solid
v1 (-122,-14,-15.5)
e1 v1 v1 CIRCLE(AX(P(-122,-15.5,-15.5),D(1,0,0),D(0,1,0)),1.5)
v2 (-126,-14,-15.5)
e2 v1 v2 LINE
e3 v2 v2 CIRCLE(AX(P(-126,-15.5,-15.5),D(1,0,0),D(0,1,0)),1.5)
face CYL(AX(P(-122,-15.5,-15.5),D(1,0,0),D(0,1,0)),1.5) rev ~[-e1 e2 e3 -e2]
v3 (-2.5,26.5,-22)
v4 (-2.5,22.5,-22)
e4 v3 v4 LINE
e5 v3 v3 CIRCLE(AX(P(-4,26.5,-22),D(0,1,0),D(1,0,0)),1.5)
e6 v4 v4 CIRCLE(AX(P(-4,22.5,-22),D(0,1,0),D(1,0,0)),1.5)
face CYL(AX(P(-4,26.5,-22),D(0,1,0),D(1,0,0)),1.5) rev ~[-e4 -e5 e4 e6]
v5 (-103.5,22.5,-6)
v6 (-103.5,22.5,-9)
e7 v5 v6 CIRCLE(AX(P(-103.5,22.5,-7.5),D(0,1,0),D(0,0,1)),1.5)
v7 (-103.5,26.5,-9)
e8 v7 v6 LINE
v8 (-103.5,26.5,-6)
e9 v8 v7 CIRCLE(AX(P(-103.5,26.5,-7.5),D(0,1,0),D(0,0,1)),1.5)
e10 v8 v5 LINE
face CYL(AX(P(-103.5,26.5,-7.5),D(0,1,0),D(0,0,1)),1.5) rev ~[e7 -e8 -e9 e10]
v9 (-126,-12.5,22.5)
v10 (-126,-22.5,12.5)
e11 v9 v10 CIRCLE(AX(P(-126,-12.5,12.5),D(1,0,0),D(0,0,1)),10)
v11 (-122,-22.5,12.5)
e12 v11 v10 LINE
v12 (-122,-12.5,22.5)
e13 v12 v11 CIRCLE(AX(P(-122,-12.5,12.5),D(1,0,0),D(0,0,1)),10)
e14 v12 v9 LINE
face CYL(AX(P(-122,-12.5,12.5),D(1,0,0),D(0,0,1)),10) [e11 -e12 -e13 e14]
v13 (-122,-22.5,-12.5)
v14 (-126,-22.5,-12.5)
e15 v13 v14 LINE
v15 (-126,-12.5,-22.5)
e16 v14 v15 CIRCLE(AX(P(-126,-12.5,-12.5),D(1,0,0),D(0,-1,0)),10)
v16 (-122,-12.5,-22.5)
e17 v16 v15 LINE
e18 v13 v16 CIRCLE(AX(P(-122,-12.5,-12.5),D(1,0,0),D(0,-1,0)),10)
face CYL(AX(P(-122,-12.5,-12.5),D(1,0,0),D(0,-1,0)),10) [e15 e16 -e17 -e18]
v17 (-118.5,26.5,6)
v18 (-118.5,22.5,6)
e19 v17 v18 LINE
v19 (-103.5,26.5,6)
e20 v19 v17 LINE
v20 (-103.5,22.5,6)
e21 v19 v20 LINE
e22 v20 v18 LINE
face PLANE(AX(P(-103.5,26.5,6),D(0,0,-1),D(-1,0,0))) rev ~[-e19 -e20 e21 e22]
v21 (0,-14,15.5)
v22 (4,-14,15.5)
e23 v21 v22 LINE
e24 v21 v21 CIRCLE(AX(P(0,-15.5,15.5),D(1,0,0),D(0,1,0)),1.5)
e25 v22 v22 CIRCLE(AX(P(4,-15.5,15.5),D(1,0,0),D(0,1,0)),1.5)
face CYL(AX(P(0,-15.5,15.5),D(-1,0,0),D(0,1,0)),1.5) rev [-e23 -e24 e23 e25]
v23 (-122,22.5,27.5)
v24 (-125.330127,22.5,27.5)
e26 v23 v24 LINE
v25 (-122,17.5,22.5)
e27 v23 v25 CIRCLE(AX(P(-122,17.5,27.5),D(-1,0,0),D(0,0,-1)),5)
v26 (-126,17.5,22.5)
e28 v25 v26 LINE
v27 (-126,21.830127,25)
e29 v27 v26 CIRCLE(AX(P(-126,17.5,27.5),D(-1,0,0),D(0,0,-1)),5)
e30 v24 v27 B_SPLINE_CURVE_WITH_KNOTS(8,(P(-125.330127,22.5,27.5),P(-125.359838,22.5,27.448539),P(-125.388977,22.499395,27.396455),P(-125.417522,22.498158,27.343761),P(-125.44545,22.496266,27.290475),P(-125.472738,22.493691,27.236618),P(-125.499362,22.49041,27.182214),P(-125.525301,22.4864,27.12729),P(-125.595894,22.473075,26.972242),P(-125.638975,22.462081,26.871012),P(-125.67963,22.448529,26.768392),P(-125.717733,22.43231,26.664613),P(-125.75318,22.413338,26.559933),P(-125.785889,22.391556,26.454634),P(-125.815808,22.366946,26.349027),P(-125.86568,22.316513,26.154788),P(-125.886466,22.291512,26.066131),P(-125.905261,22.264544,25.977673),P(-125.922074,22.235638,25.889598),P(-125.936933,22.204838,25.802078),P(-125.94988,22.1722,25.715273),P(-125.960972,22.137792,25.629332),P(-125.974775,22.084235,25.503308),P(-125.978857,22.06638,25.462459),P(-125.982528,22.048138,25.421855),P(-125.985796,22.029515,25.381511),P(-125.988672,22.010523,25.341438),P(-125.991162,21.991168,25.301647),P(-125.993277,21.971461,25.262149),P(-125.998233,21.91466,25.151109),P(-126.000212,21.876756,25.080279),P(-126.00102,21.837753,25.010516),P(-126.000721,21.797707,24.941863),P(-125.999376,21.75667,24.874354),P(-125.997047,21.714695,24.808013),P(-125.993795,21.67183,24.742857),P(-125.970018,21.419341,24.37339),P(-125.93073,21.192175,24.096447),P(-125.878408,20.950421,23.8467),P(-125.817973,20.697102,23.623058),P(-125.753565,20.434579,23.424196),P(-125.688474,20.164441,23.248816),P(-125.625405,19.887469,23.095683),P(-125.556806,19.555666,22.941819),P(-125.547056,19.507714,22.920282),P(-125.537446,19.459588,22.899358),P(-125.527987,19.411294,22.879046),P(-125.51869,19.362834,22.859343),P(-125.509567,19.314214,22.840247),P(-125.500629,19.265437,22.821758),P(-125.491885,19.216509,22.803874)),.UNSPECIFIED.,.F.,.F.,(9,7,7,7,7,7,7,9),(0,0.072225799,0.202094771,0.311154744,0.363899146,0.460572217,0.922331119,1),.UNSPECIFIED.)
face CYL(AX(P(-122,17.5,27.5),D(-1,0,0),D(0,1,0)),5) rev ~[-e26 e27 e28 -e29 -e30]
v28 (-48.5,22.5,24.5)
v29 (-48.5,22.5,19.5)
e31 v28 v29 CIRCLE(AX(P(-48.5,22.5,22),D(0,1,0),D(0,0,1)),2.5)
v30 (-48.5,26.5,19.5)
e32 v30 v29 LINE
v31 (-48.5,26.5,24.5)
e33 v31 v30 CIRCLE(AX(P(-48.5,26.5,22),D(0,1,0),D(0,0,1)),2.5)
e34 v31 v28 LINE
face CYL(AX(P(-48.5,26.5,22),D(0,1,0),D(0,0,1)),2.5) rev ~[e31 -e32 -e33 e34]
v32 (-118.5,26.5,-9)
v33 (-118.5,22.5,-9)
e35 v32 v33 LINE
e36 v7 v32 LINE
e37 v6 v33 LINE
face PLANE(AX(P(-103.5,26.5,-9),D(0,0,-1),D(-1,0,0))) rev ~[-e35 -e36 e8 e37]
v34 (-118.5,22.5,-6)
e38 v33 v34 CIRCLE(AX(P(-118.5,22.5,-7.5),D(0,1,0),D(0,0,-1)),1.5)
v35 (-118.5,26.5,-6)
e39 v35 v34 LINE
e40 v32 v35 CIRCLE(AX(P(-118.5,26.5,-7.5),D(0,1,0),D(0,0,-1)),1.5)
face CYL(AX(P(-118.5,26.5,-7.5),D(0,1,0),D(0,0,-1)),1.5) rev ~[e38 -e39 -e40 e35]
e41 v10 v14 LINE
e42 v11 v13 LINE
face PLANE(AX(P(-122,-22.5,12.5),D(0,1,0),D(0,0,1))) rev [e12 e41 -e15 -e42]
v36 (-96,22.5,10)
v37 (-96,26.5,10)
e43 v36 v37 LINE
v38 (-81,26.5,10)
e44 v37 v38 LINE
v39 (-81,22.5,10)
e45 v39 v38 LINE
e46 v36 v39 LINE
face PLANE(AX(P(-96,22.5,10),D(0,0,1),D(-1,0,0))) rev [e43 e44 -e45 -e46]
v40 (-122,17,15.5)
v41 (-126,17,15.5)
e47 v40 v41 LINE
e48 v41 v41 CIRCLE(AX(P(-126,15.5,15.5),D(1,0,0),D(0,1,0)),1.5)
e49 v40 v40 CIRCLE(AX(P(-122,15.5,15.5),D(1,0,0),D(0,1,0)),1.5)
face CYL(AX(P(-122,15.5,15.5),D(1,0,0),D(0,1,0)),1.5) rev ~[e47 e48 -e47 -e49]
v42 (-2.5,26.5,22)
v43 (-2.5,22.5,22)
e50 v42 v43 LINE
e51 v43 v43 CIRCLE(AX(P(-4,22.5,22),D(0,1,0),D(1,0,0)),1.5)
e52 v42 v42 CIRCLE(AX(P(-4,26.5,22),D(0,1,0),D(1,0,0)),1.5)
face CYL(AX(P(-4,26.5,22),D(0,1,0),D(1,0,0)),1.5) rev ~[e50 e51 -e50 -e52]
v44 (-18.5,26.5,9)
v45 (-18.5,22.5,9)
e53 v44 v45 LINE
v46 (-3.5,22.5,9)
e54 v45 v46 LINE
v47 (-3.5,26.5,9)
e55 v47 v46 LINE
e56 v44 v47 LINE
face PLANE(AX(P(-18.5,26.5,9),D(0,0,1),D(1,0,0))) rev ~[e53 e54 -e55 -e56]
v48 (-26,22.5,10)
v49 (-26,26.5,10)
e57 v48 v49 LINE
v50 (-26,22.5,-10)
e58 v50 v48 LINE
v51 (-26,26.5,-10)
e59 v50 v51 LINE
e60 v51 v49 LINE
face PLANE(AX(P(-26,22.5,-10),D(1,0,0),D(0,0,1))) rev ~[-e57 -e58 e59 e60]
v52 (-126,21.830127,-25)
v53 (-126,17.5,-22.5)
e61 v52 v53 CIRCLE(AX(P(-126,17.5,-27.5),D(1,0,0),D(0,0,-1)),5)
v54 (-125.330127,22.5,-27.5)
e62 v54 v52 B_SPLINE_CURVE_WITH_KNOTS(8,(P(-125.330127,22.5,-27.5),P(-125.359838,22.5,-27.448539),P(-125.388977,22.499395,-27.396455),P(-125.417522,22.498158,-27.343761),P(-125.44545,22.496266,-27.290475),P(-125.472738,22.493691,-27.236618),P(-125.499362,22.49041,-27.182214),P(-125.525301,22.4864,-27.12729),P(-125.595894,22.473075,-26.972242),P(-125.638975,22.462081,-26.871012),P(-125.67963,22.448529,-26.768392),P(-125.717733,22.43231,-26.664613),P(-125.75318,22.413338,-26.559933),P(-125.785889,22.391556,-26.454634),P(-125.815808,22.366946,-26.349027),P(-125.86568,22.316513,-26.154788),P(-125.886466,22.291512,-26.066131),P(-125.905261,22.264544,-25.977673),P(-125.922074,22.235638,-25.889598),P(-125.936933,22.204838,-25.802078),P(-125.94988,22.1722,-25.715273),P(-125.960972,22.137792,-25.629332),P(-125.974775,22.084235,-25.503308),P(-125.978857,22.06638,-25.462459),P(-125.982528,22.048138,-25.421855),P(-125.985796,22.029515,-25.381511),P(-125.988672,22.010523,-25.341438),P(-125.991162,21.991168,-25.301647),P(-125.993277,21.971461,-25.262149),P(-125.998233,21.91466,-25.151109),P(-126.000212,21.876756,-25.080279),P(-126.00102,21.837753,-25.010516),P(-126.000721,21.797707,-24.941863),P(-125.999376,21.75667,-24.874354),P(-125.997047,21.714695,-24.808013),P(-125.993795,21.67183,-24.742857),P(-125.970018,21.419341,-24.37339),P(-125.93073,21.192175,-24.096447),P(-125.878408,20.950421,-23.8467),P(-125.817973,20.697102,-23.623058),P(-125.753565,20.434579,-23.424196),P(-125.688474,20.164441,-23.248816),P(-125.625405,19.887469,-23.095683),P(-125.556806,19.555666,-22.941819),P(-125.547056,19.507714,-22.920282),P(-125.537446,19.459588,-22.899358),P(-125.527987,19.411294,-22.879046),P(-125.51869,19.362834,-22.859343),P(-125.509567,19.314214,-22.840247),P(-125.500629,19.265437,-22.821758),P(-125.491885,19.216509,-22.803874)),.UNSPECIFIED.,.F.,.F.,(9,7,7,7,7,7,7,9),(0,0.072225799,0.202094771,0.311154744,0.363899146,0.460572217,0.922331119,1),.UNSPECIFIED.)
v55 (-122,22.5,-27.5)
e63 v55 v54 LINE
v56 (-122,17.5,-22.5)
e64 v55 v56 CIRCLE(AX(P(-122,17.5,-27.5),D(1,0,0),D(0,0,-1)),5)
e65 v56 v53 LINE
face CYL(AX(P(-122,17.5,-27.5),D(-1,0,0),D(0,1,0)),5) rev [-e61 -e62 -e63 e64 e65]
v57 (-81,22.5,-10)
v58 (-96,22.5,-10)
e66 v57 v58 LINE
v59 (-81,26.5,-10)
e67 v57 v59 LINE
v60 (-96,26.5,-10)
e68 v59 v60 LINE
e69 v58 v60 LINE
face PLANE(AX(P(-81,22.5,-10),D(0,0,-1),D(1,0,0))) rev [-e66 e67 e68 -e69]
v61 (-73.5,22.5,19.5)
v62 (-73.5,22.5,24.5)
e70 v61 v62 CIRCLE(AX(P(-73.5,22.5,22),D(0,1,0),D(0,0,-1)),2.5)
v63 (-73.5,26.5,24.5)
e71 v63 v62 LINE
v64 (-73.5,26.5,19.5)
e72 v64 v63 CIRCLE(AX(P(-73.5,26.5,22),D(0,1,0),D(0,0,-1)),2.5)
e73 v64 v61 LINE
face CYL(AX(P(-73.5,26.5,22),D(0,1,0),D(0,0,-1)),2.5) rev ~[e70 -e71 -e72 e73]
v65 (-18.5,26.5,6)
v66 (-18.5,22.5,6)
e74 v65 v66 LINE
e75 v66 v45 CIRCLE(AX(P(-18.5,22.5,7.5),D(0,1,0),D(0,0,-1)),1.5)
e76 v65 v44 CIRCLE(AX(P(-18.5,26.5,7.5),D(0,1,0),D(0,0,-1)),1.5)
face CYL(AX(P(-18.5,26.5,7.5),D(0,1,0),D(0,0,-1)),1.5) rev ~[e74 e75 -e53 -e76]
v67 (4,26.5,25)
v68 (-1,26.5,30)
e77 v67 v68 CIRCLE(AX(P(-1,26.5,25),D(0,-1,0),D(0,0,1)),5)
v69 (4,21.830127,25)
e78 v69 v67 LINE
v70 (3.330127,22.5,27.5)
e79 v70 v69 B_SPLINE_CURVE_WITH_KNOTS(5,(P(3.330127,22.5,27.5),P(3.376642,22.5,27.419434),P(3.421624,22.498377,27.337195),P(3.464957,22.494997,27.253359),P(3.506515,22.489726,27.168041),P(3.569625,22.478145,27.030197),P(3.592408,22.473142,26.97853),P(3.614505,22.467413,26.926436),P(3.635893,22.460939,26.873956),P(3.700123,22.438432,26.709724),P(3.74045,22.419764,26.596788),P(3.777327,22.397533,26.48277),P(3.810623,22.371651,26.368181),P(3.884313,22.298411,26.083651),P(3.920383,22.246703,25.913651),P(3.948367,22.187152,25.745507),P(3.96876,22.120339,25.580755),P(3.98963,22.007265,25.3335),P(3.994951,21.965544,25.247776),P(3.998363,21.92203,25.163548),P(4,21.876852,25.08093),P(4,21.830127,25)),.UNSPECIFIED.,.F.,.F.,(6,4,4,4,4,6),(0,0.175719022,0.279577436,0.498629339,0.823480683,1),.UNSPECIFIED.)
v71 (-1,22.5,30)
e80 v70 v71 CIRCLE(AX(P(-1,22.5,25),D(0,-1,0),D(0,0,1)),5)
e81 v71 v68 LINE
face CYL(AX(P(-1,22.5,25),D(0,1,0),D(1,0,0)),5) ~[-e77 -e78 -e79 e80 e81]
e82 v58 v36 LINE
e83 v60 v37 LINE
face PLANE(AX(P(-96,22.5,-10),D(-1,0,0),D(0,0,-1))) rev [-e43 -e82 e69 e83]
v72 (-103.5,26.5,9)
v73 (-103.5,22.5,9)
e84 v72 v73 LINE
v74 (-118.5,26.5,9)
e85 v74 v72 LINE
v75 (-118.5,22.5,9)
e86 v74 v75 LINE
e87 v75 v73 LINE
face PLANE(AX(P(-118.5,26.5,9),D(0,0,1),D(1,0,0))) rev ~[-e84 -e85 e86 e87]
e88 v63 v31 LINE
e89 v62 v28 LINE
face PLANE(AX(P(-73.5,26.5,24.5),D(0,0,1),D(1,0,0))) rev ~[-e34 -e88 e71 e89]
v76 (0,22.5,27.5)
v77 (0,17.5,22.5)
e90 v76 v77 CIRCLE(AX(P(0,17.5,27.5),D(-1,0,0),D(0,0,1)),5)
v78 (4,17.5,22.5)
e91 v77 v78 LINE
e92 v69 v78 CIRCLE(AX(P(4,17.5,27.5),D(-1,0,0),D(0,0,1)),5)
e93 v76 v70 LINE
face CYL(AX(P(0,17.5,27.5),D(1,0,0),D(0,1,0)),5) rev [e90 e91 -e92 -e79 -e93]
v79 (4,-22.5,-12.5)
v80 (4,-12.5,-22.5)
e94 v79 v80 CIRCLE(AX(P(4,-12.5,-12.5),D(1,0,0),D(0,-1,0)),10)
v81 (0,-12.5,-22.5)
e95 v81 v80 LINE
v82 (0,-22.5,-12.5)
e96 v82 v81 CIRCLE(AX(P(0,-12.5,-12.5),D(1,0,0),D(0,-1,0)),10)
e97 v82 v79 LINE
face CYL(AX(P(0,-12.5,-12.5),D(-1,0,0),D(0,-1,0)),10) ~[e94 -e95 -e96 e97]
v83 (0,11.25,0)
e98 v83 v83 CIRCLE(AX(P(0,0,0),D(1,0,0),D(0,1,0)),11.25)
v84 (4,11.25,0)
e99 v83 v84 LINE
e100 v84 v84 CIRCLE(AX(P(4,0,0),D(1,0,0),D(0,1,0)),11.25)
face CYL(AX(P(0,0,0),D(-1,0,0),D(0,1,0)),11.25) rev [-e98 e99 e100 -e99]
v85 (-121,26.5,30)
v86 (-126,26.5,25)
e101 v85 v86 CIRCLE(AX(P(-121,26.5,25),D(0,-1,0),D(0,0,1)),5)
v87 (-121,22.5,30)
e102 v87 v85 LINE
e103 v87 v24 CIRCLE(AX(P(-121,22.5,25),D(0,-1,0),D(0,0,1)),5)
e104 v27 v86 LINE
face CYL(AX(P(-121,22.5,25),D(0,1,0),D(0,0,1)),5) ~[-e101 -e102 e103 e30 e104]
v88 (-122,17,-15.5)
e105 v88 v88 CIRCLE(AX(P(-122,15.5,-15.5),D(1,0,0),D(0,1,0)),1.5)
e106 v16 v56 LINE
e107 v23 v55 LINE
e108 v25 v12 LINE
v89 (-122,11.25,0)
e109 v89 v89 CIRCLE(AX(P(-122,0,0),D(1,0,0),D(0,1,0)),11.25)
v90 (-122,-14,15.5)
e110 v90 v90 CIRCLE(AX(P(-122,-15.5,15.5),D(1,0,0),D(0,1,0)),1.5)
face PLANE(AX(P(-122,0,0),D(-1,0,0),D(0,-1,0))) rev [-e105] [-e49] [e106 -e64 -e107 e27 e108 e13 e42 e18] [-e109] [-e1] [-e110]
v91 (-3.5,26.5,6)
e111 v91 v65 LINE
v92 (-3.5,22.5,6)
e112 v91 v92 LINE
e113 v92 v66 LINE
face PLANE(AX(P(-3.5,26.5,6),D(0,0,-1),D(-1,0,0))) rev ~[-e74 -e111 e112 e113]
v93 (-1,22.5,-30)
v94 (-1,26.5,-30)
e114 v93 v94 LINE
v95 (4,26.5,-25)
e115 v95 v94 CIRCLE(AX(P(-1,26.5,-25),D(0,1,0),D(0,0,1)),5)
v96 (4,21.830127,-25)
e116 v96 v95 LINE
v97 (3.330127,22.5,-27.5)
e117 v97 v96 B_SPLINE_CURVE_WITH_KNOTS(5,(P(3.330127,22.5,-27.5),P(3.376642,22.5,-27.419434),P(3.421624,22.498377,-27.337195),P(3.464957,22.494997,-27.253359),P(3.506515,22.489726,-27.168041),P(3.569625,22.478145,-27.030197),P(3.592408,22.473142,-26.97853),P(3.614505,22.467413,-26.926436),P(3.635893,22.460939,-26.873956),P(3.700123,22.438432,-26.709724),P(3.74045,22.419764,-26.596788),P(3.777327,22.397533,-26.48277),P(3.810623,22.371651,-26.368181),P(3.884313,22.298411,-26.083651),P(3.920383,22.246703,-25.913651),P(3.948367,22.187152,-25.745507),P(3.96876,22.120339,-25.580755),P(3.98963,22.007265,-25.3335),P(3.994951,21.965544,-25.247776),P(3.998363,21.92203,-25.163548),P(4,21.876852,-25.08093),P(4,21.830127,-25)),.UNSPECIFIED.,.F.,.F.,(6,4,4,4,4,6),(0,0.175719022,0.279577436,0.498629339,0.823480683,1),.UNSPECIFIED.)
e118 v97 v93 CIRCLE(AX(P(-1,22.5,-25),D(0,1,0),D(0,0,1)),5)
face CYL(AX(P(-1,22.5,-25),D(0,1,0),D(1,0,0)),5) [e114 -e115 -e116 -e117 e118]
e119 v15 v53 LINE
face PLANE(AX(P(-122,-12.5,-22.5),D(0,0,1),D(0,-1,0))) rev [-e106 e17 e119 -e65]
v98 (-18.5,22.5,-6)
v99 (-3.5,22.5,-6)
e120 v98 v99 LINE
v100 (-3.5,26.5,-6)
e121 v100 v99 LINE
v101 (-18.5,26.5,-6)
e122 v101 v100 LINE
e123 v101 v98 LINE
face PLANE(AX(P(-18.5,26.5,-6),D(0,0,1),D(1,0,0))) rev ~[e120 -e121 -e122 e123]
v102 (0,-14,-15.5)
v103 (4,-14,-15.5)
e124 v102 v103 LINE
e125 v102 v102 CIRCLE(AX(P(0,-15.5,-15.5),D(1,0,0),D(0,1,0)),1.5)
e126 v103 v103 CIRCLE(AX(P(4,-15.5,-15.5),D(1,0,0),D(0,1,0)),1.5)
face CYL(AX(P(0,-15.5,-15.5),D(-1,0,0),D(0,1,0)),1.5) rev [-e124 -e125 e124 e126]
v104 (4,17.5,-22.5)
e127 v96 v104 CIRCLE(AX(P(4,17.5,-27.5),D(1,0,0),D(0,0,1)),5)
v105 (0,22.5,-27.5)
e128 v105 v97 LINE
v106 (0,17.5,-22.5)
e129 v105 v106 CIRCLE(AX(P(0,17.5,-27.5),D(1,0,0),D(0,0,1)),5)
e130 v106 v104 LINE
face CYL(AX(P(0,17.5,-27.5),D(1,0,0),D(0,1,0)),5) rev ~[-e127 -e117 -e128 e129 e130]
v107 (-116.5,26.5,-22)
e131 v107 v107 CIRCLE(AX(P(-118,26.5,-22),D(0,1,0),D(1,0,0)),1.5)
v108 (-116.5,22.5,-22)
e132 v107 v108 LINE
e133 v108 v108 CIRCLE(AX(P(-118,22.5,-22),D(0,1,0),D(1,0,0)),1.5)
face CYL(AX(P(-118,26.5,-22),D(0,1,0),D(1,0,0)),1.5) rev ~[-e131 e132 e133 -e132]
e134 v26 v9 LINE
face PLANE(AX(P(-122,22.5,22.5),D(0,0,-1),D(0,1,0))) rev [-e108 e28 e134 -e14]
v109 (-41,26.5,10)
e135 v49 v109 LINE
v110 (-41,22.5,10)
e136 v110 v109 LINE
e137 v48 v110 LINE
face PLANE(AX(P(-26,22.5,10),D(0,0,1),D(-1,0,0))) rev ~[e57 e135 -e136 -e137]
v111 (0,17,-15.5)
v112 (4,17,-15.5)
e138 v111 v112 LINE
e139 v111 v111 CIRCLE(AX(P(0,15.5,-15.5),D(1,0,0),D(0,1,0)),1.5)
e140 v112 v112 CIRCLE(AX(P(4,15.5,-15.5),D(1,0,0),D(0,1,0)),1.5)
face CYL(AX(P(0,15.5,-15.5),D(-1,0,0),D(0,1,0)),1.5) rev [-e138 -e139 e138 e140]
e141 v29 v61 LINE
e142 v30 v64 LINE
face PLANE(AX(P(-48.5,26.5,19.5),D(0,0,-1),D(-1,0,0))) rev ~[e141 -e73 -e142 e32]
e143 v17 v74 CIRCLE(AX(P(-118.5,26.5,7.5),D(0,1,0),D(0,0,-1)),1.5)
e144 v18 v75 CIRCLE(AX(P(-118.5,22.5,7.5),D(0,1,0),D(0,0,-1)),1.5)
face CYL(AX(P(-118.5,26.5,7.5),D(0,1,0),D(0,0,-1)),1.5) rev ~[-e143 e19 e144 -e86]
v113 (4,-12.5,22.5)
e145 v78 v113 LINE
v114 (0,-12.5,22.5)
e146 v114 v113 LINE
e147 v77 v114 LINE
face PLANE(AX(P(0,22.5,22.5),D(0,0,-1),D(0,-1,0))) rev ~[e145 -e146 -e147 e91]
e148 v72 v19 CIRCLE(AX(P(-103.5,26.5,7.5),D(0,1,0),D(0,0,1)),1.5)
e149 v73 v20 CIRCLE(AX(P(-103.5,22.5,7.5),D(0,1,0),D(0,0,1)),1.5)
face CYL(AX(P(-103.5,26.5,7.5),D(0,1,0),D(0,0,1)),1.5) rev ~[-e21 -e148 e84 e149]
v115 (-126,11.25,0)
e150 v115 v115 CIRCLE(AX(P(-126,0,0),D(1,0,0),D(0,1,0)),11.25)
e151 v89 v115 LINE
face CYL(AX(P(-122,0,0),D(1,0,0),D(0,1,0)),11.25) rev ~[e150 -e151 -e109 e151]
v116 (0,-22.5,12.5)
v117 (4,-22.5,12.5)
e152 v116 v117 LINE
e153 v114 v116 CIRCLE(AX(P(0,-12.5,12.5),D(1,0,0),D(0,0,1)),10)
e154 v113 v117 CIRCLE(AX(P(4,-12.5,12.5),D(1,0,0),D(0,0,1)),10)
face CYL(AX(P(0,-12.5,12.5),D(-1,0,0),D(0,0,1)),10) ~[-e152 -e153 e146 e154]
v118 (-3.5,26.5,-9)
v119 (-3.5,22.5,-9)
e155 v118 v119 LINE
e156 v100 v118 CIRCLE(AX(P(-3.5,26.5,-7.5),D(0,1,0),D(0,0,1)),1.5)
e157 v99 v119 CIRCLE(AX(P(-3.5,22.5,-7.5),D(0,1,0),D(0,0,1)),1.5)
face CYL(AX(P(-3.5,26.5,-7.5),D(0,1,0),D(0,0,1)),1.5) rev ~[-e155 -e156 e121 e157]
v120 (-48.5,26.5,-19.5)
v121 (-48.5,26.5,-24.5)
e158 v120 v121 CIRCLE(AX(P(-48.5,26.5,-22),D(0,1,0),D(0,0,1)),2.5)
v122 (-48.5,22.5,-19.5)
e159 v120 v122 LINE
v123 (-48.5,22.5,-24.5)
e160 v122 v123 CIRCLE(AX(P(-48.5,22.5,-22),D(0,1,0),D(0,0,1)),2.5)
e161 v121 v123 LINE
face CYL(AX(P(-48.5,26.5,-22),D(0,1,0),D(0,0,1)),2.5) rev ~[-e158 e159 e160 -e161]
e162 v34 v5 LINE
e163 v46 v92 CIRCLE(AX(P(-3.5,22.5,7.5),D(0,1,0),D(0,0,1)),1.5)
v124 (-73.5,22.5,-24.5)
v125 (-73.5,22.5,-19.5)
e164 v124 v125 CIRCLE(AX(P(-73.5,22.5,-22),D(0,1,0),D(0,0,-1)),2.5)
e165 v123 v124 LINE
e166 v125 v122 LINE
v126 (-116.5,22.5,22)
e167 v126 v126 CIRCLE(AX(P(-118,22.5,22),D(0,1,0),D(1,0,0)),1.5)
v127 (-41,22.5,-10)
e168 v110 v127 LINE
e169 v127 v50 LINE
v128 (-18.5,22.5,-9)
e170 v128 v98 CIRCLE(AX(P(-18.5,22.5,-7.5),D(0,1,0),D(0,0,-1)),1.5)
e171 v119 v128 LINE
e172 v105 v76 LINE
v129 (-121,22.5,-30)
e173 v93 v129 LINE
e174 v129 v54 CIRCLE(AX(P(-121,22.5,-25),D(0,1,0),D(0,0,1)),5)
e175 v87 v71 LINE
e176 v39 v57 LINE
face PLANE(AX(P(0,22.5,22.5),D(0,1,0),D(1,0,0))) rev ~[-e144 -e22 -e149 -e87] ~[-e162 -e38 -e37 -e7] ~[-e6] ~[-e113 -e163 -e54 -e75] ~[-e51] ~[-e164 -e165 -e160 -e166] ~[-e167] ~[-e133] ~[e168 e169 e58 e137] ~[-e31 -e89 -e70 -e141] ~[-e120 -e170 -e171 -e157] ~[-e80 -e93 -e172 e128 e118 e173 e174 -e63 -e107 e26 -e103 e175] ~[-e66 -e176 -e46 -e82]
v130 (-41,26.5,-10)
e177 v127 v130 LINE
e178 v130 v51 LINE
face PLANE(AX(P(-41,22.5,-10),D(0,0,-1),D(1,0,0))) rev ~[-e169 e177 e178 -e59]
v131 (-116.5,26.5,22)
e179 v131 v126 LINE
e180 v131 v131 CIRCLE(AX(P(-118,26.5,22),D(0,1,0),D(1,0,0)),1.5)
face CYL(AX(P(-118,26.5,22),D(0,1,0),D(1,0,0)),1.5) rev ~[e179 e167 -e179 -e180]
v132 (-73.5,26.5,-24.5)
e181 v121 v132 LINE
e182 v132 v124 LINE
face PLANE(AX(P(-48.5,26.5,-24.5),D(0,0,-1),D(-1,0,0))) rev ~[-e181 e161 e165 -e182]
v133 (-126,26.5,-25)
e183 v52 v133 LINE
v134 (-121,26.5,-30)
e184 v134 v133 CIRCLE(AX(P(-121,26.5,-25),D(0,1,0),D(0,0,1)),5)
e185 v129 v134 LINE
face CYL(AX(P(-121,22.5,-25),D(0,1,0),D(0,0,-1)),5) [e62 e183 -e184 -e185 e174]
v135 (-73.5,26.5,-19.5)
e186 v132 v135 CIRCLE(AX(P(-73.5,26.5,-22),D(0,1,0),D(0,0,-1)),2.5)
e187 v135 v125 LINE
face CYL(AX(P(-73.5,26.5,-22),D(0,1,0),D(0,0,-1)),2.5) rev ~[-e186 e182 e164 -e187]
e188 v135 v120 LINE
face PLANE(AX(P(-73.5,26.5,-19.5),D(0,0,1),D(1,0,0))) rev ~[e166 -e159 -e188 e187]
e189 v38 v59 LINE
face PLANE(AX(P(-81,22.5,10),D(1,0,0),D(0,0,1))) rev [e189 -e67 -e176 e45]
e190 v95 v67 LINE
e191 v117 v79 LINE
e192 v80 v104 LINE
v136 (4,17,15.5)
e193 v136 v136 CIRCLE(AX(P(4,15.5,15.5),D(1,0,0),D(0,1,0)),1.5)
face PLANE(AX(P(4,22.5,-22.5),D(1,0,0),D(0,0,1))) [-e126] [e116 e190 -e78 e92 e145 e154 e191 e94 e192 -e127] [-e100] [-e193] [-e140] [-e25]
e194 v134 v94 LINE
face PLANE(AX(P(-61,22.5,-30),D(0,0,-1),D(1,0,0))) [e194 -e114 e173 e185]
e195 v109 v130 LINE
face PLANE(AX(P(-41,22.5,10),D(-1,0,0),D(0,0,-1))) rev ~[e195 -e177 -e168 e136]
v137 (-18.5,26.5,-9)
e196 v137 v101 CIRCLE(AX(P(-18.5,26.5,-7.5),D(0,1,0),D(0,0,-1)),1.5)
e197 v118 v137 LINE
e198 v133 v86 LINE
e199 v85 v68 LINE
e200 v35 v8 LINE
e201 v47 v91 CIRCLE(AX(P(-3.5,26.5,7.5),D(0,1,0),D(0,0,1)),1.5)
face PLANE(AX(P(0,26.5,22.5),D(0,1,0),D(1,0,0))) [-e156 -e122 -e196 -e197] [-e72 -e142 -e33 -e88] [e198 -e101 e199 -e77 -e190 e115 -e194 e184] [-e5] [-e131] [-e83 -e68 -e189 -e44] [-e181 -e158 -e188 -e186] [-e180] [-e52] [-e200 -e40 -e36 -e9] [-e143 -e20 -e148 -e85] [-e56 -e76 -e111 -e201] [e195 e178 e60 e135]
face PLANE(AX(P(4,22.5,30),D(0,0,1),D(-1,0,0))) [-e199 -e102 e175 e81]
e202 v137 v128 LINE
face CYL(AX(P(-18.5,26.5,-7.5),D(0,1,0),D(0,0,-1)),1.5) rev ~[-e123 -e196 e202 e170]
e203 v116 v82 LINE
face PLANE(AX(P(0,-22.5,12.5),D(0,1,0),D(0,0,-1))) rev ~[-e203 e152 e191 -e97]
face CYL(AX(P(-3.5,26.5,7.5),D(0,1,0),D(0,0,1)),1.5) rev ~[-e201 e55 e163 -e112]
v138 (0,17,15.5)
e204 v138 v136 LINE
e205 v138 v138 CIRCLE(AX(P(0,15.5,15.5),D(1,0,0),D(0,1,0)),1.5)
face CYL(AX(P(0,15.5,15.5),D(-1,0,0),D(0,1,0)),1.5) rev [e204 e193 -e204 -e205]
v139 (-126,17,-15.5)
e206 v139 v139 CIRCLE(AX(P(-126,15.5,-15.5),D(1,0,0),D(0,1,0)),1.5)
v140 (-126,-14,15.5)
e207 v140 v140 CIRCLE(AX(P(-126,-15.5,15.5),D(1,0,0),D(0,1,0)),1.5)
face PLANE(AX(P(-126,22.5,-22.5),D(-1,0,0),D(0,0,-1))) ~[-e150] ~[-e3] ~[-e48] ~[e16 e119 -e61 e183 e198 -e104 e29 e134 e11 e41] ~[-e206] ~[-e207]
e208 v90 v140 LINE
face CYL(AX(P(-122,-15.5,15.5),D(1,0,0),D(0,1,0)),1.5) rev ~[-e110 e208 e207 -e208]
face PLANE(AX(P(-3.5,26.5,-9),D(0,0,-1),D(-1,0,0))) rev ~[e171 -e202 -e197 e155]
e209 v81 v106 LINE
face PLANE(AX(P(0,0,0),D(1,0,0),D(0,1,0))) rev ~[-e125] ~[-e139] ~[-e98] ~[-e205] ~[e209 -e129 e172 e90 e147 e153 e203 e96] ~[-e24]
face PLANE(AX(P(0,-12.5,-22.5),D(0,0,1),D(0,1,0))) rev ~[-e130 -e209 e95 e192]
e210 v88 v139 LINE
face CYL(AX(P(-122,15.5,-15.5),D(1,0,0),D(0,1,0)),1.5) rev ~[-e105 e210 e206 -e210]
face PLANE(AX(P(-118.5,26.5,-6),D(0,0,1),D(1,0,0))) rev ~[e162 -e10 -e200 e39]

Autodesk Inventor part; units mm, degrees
ref_plane "YZ Plane" through (0, 0, 0) normal (1, 0, 0) x (0, 1, 0)
ref_plane "XZ Plane" through (0, 0, 0) normal (0, 1, 0) x (-1, 0, 0)
sketch "Motor Support" plane through (0, 0, 0) normal (1, 0, 0) x (0, 1, 0)
  circle A0 centre (0, 0) radius 11.25
  line L0 (-12.5, -22.5) -> (22.5, -22.5)
  line L1 (22.5, -22.5) -> (22.5, 22.5)
  line L2 (22.5, 22.5) -> (-12.5, 22.5)
  line L3 (-22.5, 12.5) -> (-22.5, -12.5)
  arc A1 (-12.5, 22.5) -> (-22.5, 12.5) centre (-12.5, 12.5) ccw
  arc A2 (-22.5, -12.5) -> (-12.5, -22.5) centre (-12.5, -12.5) ccw
  circle A3 centre (15.5, 15.5) radius 1.5
  circle A4 centre (15.5, -15.5) radius 1.5
  circle A5 centre (-15.5, 15.5) radius 1.5
  circle A6 centre (-15.5, -15.5) radius 1.5
  point P0 (-22.5, 22.5)
  point P1 (22.5, 0)
  dimension "d0" = 22.5
  dimension "d1" = 45
  dimension "d2" = 45
  dimension "d3" = 10
  dimension "d4" = 22.5
  dimension "d5" = 3
  dimension "d6" = 3
  dimension "d7" = 3
  dimension "d8" = 3
  dimension "d9" = 31
  dimension "d10" = 31
  dimension "d11" = 15.5
  dimension "d12" = 15.5
extrude "Motor Support E" add sketch "Motor Support" along normal blind 4
sketch "Base" plane through (0, 22.5, 22.5) normal (0, 1, 0) x (1, 0, 0)
  line L0 (0, 45) -> (0, 0) projected
  line L1 (0, 0) -> (4, 0) projected
  line L2 (4, 45) -> (4, 0) projected
  line L3 (0, 45) -> (4, 45) projected
  line L4 (4, -7.5) -> (-61, -7.5)
  line L5 (-61, -7.5) -> (-61, 52.5)
  line L6 (-61, 52.5) -> (4, 52.5)
  line L7 (4, 52.5) -> (4, -7.5)
  line L8 (-41, 32.5) -> (-26, 32.5)
  line L9 (-26, 32.5) -> (-26, 12.5)
  line L10 (-26, 12.5) -> (-41, 12.5)
  line L11 (-41, 12.5) -> (-41, 32.5)
  point P0 (0, 22.5)
  point P1 (4, 22.5)
  point P2 (-26, 22.5)
  point P3 (0, 22.5)
  dimension "d15" = 65
  dimension "d16" = 60
  dimension "d19" = 15
  dimension "d20" = 20
  dimension "d21" = 26
extrude "Base E" add sketch "Base" along normal blind 4
ref_plane "Mid Plane" through (-61, 26.5, 30) normal (-1, 0, 0) x (0, 0, 1)
mirror "Mirror Base" about plane through (-61, 26.5, 30) normal (-1, 0, 0)
fillet "Fillet1" radius 5 4 edges at (4, 24.5, 30) (4, 24.5, -30) (-126, 24.5, 30) (-126, 24.5, -30)
fillet "Fillet2" radius 5 4 edges at (2, 22.5, -22.5) (2, 22.5, 22.5) (-124, 22.5, -22.5) (-124, 22.5, 22.5)
sketch "Base Hole Pattern" plane through (0, 26.5, 22.5) normal (0, 1, 0) x (1, 0, 0)
  circle A0 centre (-4, 0.5) radius 1.5
  circle A1 centre (-118, 44.5) radius 1.5
  circle A2 centre (-118, 0.5) radius 1.5
  circle A3 centre (-4, 44.5) radius 1.5
  arc A4 (-121, 52.5) -> (-126, 47.5) centre (-121, 47.5) ccw projected
  line L0 (-126, -2.5) -> (-126, 47.5) projected
  arc A5 (-126, -2.5) -> (-121, -7.5) centre (-121, -2.5) ccw projected
  line L1 (-1, -7.5) -> (-121, -7.5) projected
  arc A6 (-1, -7.5) -> (4, -2.5) centre (-1, -2.5) ccw projected
  line L2 (4, -2.5) -> (4, 47.5) projected
  arc A7 (4, 47.5) -> (-1, 52.5) centre (-1, 47.5) ccw projected
  line L3 (-1, 52.5) -> (-121, 52.5) projected
  line L4 (-81, 32.5) -> (-96, 32.5) projected
  line L5 (-81, 12.5) -> (-81, 32.5) projected
  line L6 (-96, 12.5) -> (-81, 12.5) projected
  line L7 (-96, 32.5) -> (-96, 12.5) projected
  line L8 (-41, 32.5) -> (-26, 32.5) projected
  line L9 (-26, 32.5) -> (-26, 12.5) projected
  line L10 (-26, 12.5) -> (-41, 12.5) projected
  line L11 (-41, 12.5) -> (-41, 32.5) projected
  line L12 (-73.5, 44.5) -> (-48.5, 44.5) construction
  line L13 (-73.5, 42) -> (-48.5, 42)
  line L14 (-48.5, 47) -> (-73.5, 47)
  arc A8 (-73.5, 47) -> (-73.5, 42) centre (-73.5, 44.5) ccw
  arc A9 (-48.5, 42) -> (-48.5, 47) centre (-48.5, 44.5) ccw
  line L15 (-73.5, 0.5) -> (-48.5, 0.5) construction
  line L16 (-73.5, -2) -> (-48.5, -2)
  line L17 (-48.5, 3) -> (-73.5, 3)
  arc A10 (-73.5, 3) -> (-73.5, -2) centre (-73.5, 0.5) ccw
  arc A11 (-48.5, -2) -> (-48.5, 3) centre (-48.5, 0.5) ccw
  line L18 (-118.5, 30) -> (-103.5, 30) construction
  line L19 (-118.5, 28.5) -> (-103.5, 28.5)
  line L20 (-103.5, 31.5) -> (-118.5, 31.5)
  arc A12 (-118.5, 31.5) -> (-118.5, 28.5) centre (-118.5, 30) ccw
  arc A13 (-103.5, 28.5) -> (-103.5, 31.5) centre (-103.5, 30) ccw
  line L21 (-118.5, 15) -> (-103.5, 15) construction
  line L22 (-118.5, 13.5) -> (-103.5, 13.5)
  line L23 (-103.5, 16.5) -> (-118.5, 16.5)
  arc A14 (-118.5, 16.5) -> (-118.5, 13.5) centre (-118.5, 15) ccw
  arc A15 (-103.5, 13.5) -> (-103.5, 16.5) centre (-103.5, 15) ccw
  line L24 (-18.5, 30) -> (-3.5, 30) construction
  line L25 (-18.5, 28.5) -> (-3.5, 28.5)
  line L26 (-3.5, 31.5) -> (-18.5, 31.5)
  arc A16 (-18.5, 31.5) -> (-18.5, 28.5) centre (-18.5, 30) ccw
  arc A17 (-3.5, 28.5) -> (-3.5, 31.5) centre (-3.5, 30) ccw
  line L27 (-18.5, 15) -> (-3.5, 15) construction
  line L28 (-18.5, 13.5) -> (-3.5, 13.5)
  line L29 (-3.5, 16.5) -> (-18.5, 16.5)
  arc A18 (-18.5, 16.5) -> (-18.5, 13.5) centre (-18.5, 15) ccw
  arc A19 (-3.5, 13.5) -> (-3.5, 16.5) centre (-3.5, 15) ccw
  point P0 (-61, 44.5)
  point P1 (-61, 52.5)
  point P2 (-61, 0.5)
  point P3 (-111, 30)
  point P4 (-111, 15)
  point P5 (-11, 30)
  point P6 (-11, 15)
  dimension "d29" = 3
  dimension "d30" = 3
  dimension "d33" = 3
  dimension "d34" = 3
  dimension "d35" = 8
  dimension "d36" = 8
  dimension "d37" = 8
  dimension "d38" = 8
  dimension "d43" = 25
  dimension "d44" = 5
  dimension "d45" = 25
  dimension "d46" = 2.5
  dimension "d47" = 15
  dimension "d48" = 3
  dimension "d49" = 15
  dimension "d50" = 3
  dimension "d51" = 15
  dimension "d52" = 15
  dimension "d53" = 22.5
  dimension "d56" = 15
  dimension "d57" = 3
  dimension "d58" = 15
  dimension "d59" = 3
  dimension "d60" = 15
  dimension "d61" = 22.5
  dimension "d62" = 15
extrude "Spacer Holes" cut sketch "Base Hole Pattern" against normal blind 10 contours A0 | A1 | A2 | A3
extrude "Base Slots" cut sketch "Base Hole Pattern" against normal blind 10 contours A8 L14 A9 L13 | A10 L17 A11 L16 | A12 L20 A13 L19 | A14 L23 A15 L22 | A16 L26 A17 L25 | A18 L29 A19 L28
equation "\"d6\" = d5"
equation "\"d7\" = d5"
equation "\"d8\" = d5"
equation "\"d30\" = d29"
equation "\"d33\" = d29"
equation "\"d34\" = d29"
equation "\"d36\" = d35"
equation "\"d37\" = d35"
equation "\"d38\" = d35"
equation "\"d45\" = d43"
equation "\"d46\" = 0.5 * d44"
equation "\"d49\" = d47"
equation "\"d50\" = d48"
equation "\"d56\" = d47"
equation "\"d57\" = d48"
equation "\"d58\" = d47"
equation "\"d59\" = d48"
equation "\"d60\" = d52"
equation "\"d61\" = d53"
equation "\"d62\" = d51"
properties part number "Base"
